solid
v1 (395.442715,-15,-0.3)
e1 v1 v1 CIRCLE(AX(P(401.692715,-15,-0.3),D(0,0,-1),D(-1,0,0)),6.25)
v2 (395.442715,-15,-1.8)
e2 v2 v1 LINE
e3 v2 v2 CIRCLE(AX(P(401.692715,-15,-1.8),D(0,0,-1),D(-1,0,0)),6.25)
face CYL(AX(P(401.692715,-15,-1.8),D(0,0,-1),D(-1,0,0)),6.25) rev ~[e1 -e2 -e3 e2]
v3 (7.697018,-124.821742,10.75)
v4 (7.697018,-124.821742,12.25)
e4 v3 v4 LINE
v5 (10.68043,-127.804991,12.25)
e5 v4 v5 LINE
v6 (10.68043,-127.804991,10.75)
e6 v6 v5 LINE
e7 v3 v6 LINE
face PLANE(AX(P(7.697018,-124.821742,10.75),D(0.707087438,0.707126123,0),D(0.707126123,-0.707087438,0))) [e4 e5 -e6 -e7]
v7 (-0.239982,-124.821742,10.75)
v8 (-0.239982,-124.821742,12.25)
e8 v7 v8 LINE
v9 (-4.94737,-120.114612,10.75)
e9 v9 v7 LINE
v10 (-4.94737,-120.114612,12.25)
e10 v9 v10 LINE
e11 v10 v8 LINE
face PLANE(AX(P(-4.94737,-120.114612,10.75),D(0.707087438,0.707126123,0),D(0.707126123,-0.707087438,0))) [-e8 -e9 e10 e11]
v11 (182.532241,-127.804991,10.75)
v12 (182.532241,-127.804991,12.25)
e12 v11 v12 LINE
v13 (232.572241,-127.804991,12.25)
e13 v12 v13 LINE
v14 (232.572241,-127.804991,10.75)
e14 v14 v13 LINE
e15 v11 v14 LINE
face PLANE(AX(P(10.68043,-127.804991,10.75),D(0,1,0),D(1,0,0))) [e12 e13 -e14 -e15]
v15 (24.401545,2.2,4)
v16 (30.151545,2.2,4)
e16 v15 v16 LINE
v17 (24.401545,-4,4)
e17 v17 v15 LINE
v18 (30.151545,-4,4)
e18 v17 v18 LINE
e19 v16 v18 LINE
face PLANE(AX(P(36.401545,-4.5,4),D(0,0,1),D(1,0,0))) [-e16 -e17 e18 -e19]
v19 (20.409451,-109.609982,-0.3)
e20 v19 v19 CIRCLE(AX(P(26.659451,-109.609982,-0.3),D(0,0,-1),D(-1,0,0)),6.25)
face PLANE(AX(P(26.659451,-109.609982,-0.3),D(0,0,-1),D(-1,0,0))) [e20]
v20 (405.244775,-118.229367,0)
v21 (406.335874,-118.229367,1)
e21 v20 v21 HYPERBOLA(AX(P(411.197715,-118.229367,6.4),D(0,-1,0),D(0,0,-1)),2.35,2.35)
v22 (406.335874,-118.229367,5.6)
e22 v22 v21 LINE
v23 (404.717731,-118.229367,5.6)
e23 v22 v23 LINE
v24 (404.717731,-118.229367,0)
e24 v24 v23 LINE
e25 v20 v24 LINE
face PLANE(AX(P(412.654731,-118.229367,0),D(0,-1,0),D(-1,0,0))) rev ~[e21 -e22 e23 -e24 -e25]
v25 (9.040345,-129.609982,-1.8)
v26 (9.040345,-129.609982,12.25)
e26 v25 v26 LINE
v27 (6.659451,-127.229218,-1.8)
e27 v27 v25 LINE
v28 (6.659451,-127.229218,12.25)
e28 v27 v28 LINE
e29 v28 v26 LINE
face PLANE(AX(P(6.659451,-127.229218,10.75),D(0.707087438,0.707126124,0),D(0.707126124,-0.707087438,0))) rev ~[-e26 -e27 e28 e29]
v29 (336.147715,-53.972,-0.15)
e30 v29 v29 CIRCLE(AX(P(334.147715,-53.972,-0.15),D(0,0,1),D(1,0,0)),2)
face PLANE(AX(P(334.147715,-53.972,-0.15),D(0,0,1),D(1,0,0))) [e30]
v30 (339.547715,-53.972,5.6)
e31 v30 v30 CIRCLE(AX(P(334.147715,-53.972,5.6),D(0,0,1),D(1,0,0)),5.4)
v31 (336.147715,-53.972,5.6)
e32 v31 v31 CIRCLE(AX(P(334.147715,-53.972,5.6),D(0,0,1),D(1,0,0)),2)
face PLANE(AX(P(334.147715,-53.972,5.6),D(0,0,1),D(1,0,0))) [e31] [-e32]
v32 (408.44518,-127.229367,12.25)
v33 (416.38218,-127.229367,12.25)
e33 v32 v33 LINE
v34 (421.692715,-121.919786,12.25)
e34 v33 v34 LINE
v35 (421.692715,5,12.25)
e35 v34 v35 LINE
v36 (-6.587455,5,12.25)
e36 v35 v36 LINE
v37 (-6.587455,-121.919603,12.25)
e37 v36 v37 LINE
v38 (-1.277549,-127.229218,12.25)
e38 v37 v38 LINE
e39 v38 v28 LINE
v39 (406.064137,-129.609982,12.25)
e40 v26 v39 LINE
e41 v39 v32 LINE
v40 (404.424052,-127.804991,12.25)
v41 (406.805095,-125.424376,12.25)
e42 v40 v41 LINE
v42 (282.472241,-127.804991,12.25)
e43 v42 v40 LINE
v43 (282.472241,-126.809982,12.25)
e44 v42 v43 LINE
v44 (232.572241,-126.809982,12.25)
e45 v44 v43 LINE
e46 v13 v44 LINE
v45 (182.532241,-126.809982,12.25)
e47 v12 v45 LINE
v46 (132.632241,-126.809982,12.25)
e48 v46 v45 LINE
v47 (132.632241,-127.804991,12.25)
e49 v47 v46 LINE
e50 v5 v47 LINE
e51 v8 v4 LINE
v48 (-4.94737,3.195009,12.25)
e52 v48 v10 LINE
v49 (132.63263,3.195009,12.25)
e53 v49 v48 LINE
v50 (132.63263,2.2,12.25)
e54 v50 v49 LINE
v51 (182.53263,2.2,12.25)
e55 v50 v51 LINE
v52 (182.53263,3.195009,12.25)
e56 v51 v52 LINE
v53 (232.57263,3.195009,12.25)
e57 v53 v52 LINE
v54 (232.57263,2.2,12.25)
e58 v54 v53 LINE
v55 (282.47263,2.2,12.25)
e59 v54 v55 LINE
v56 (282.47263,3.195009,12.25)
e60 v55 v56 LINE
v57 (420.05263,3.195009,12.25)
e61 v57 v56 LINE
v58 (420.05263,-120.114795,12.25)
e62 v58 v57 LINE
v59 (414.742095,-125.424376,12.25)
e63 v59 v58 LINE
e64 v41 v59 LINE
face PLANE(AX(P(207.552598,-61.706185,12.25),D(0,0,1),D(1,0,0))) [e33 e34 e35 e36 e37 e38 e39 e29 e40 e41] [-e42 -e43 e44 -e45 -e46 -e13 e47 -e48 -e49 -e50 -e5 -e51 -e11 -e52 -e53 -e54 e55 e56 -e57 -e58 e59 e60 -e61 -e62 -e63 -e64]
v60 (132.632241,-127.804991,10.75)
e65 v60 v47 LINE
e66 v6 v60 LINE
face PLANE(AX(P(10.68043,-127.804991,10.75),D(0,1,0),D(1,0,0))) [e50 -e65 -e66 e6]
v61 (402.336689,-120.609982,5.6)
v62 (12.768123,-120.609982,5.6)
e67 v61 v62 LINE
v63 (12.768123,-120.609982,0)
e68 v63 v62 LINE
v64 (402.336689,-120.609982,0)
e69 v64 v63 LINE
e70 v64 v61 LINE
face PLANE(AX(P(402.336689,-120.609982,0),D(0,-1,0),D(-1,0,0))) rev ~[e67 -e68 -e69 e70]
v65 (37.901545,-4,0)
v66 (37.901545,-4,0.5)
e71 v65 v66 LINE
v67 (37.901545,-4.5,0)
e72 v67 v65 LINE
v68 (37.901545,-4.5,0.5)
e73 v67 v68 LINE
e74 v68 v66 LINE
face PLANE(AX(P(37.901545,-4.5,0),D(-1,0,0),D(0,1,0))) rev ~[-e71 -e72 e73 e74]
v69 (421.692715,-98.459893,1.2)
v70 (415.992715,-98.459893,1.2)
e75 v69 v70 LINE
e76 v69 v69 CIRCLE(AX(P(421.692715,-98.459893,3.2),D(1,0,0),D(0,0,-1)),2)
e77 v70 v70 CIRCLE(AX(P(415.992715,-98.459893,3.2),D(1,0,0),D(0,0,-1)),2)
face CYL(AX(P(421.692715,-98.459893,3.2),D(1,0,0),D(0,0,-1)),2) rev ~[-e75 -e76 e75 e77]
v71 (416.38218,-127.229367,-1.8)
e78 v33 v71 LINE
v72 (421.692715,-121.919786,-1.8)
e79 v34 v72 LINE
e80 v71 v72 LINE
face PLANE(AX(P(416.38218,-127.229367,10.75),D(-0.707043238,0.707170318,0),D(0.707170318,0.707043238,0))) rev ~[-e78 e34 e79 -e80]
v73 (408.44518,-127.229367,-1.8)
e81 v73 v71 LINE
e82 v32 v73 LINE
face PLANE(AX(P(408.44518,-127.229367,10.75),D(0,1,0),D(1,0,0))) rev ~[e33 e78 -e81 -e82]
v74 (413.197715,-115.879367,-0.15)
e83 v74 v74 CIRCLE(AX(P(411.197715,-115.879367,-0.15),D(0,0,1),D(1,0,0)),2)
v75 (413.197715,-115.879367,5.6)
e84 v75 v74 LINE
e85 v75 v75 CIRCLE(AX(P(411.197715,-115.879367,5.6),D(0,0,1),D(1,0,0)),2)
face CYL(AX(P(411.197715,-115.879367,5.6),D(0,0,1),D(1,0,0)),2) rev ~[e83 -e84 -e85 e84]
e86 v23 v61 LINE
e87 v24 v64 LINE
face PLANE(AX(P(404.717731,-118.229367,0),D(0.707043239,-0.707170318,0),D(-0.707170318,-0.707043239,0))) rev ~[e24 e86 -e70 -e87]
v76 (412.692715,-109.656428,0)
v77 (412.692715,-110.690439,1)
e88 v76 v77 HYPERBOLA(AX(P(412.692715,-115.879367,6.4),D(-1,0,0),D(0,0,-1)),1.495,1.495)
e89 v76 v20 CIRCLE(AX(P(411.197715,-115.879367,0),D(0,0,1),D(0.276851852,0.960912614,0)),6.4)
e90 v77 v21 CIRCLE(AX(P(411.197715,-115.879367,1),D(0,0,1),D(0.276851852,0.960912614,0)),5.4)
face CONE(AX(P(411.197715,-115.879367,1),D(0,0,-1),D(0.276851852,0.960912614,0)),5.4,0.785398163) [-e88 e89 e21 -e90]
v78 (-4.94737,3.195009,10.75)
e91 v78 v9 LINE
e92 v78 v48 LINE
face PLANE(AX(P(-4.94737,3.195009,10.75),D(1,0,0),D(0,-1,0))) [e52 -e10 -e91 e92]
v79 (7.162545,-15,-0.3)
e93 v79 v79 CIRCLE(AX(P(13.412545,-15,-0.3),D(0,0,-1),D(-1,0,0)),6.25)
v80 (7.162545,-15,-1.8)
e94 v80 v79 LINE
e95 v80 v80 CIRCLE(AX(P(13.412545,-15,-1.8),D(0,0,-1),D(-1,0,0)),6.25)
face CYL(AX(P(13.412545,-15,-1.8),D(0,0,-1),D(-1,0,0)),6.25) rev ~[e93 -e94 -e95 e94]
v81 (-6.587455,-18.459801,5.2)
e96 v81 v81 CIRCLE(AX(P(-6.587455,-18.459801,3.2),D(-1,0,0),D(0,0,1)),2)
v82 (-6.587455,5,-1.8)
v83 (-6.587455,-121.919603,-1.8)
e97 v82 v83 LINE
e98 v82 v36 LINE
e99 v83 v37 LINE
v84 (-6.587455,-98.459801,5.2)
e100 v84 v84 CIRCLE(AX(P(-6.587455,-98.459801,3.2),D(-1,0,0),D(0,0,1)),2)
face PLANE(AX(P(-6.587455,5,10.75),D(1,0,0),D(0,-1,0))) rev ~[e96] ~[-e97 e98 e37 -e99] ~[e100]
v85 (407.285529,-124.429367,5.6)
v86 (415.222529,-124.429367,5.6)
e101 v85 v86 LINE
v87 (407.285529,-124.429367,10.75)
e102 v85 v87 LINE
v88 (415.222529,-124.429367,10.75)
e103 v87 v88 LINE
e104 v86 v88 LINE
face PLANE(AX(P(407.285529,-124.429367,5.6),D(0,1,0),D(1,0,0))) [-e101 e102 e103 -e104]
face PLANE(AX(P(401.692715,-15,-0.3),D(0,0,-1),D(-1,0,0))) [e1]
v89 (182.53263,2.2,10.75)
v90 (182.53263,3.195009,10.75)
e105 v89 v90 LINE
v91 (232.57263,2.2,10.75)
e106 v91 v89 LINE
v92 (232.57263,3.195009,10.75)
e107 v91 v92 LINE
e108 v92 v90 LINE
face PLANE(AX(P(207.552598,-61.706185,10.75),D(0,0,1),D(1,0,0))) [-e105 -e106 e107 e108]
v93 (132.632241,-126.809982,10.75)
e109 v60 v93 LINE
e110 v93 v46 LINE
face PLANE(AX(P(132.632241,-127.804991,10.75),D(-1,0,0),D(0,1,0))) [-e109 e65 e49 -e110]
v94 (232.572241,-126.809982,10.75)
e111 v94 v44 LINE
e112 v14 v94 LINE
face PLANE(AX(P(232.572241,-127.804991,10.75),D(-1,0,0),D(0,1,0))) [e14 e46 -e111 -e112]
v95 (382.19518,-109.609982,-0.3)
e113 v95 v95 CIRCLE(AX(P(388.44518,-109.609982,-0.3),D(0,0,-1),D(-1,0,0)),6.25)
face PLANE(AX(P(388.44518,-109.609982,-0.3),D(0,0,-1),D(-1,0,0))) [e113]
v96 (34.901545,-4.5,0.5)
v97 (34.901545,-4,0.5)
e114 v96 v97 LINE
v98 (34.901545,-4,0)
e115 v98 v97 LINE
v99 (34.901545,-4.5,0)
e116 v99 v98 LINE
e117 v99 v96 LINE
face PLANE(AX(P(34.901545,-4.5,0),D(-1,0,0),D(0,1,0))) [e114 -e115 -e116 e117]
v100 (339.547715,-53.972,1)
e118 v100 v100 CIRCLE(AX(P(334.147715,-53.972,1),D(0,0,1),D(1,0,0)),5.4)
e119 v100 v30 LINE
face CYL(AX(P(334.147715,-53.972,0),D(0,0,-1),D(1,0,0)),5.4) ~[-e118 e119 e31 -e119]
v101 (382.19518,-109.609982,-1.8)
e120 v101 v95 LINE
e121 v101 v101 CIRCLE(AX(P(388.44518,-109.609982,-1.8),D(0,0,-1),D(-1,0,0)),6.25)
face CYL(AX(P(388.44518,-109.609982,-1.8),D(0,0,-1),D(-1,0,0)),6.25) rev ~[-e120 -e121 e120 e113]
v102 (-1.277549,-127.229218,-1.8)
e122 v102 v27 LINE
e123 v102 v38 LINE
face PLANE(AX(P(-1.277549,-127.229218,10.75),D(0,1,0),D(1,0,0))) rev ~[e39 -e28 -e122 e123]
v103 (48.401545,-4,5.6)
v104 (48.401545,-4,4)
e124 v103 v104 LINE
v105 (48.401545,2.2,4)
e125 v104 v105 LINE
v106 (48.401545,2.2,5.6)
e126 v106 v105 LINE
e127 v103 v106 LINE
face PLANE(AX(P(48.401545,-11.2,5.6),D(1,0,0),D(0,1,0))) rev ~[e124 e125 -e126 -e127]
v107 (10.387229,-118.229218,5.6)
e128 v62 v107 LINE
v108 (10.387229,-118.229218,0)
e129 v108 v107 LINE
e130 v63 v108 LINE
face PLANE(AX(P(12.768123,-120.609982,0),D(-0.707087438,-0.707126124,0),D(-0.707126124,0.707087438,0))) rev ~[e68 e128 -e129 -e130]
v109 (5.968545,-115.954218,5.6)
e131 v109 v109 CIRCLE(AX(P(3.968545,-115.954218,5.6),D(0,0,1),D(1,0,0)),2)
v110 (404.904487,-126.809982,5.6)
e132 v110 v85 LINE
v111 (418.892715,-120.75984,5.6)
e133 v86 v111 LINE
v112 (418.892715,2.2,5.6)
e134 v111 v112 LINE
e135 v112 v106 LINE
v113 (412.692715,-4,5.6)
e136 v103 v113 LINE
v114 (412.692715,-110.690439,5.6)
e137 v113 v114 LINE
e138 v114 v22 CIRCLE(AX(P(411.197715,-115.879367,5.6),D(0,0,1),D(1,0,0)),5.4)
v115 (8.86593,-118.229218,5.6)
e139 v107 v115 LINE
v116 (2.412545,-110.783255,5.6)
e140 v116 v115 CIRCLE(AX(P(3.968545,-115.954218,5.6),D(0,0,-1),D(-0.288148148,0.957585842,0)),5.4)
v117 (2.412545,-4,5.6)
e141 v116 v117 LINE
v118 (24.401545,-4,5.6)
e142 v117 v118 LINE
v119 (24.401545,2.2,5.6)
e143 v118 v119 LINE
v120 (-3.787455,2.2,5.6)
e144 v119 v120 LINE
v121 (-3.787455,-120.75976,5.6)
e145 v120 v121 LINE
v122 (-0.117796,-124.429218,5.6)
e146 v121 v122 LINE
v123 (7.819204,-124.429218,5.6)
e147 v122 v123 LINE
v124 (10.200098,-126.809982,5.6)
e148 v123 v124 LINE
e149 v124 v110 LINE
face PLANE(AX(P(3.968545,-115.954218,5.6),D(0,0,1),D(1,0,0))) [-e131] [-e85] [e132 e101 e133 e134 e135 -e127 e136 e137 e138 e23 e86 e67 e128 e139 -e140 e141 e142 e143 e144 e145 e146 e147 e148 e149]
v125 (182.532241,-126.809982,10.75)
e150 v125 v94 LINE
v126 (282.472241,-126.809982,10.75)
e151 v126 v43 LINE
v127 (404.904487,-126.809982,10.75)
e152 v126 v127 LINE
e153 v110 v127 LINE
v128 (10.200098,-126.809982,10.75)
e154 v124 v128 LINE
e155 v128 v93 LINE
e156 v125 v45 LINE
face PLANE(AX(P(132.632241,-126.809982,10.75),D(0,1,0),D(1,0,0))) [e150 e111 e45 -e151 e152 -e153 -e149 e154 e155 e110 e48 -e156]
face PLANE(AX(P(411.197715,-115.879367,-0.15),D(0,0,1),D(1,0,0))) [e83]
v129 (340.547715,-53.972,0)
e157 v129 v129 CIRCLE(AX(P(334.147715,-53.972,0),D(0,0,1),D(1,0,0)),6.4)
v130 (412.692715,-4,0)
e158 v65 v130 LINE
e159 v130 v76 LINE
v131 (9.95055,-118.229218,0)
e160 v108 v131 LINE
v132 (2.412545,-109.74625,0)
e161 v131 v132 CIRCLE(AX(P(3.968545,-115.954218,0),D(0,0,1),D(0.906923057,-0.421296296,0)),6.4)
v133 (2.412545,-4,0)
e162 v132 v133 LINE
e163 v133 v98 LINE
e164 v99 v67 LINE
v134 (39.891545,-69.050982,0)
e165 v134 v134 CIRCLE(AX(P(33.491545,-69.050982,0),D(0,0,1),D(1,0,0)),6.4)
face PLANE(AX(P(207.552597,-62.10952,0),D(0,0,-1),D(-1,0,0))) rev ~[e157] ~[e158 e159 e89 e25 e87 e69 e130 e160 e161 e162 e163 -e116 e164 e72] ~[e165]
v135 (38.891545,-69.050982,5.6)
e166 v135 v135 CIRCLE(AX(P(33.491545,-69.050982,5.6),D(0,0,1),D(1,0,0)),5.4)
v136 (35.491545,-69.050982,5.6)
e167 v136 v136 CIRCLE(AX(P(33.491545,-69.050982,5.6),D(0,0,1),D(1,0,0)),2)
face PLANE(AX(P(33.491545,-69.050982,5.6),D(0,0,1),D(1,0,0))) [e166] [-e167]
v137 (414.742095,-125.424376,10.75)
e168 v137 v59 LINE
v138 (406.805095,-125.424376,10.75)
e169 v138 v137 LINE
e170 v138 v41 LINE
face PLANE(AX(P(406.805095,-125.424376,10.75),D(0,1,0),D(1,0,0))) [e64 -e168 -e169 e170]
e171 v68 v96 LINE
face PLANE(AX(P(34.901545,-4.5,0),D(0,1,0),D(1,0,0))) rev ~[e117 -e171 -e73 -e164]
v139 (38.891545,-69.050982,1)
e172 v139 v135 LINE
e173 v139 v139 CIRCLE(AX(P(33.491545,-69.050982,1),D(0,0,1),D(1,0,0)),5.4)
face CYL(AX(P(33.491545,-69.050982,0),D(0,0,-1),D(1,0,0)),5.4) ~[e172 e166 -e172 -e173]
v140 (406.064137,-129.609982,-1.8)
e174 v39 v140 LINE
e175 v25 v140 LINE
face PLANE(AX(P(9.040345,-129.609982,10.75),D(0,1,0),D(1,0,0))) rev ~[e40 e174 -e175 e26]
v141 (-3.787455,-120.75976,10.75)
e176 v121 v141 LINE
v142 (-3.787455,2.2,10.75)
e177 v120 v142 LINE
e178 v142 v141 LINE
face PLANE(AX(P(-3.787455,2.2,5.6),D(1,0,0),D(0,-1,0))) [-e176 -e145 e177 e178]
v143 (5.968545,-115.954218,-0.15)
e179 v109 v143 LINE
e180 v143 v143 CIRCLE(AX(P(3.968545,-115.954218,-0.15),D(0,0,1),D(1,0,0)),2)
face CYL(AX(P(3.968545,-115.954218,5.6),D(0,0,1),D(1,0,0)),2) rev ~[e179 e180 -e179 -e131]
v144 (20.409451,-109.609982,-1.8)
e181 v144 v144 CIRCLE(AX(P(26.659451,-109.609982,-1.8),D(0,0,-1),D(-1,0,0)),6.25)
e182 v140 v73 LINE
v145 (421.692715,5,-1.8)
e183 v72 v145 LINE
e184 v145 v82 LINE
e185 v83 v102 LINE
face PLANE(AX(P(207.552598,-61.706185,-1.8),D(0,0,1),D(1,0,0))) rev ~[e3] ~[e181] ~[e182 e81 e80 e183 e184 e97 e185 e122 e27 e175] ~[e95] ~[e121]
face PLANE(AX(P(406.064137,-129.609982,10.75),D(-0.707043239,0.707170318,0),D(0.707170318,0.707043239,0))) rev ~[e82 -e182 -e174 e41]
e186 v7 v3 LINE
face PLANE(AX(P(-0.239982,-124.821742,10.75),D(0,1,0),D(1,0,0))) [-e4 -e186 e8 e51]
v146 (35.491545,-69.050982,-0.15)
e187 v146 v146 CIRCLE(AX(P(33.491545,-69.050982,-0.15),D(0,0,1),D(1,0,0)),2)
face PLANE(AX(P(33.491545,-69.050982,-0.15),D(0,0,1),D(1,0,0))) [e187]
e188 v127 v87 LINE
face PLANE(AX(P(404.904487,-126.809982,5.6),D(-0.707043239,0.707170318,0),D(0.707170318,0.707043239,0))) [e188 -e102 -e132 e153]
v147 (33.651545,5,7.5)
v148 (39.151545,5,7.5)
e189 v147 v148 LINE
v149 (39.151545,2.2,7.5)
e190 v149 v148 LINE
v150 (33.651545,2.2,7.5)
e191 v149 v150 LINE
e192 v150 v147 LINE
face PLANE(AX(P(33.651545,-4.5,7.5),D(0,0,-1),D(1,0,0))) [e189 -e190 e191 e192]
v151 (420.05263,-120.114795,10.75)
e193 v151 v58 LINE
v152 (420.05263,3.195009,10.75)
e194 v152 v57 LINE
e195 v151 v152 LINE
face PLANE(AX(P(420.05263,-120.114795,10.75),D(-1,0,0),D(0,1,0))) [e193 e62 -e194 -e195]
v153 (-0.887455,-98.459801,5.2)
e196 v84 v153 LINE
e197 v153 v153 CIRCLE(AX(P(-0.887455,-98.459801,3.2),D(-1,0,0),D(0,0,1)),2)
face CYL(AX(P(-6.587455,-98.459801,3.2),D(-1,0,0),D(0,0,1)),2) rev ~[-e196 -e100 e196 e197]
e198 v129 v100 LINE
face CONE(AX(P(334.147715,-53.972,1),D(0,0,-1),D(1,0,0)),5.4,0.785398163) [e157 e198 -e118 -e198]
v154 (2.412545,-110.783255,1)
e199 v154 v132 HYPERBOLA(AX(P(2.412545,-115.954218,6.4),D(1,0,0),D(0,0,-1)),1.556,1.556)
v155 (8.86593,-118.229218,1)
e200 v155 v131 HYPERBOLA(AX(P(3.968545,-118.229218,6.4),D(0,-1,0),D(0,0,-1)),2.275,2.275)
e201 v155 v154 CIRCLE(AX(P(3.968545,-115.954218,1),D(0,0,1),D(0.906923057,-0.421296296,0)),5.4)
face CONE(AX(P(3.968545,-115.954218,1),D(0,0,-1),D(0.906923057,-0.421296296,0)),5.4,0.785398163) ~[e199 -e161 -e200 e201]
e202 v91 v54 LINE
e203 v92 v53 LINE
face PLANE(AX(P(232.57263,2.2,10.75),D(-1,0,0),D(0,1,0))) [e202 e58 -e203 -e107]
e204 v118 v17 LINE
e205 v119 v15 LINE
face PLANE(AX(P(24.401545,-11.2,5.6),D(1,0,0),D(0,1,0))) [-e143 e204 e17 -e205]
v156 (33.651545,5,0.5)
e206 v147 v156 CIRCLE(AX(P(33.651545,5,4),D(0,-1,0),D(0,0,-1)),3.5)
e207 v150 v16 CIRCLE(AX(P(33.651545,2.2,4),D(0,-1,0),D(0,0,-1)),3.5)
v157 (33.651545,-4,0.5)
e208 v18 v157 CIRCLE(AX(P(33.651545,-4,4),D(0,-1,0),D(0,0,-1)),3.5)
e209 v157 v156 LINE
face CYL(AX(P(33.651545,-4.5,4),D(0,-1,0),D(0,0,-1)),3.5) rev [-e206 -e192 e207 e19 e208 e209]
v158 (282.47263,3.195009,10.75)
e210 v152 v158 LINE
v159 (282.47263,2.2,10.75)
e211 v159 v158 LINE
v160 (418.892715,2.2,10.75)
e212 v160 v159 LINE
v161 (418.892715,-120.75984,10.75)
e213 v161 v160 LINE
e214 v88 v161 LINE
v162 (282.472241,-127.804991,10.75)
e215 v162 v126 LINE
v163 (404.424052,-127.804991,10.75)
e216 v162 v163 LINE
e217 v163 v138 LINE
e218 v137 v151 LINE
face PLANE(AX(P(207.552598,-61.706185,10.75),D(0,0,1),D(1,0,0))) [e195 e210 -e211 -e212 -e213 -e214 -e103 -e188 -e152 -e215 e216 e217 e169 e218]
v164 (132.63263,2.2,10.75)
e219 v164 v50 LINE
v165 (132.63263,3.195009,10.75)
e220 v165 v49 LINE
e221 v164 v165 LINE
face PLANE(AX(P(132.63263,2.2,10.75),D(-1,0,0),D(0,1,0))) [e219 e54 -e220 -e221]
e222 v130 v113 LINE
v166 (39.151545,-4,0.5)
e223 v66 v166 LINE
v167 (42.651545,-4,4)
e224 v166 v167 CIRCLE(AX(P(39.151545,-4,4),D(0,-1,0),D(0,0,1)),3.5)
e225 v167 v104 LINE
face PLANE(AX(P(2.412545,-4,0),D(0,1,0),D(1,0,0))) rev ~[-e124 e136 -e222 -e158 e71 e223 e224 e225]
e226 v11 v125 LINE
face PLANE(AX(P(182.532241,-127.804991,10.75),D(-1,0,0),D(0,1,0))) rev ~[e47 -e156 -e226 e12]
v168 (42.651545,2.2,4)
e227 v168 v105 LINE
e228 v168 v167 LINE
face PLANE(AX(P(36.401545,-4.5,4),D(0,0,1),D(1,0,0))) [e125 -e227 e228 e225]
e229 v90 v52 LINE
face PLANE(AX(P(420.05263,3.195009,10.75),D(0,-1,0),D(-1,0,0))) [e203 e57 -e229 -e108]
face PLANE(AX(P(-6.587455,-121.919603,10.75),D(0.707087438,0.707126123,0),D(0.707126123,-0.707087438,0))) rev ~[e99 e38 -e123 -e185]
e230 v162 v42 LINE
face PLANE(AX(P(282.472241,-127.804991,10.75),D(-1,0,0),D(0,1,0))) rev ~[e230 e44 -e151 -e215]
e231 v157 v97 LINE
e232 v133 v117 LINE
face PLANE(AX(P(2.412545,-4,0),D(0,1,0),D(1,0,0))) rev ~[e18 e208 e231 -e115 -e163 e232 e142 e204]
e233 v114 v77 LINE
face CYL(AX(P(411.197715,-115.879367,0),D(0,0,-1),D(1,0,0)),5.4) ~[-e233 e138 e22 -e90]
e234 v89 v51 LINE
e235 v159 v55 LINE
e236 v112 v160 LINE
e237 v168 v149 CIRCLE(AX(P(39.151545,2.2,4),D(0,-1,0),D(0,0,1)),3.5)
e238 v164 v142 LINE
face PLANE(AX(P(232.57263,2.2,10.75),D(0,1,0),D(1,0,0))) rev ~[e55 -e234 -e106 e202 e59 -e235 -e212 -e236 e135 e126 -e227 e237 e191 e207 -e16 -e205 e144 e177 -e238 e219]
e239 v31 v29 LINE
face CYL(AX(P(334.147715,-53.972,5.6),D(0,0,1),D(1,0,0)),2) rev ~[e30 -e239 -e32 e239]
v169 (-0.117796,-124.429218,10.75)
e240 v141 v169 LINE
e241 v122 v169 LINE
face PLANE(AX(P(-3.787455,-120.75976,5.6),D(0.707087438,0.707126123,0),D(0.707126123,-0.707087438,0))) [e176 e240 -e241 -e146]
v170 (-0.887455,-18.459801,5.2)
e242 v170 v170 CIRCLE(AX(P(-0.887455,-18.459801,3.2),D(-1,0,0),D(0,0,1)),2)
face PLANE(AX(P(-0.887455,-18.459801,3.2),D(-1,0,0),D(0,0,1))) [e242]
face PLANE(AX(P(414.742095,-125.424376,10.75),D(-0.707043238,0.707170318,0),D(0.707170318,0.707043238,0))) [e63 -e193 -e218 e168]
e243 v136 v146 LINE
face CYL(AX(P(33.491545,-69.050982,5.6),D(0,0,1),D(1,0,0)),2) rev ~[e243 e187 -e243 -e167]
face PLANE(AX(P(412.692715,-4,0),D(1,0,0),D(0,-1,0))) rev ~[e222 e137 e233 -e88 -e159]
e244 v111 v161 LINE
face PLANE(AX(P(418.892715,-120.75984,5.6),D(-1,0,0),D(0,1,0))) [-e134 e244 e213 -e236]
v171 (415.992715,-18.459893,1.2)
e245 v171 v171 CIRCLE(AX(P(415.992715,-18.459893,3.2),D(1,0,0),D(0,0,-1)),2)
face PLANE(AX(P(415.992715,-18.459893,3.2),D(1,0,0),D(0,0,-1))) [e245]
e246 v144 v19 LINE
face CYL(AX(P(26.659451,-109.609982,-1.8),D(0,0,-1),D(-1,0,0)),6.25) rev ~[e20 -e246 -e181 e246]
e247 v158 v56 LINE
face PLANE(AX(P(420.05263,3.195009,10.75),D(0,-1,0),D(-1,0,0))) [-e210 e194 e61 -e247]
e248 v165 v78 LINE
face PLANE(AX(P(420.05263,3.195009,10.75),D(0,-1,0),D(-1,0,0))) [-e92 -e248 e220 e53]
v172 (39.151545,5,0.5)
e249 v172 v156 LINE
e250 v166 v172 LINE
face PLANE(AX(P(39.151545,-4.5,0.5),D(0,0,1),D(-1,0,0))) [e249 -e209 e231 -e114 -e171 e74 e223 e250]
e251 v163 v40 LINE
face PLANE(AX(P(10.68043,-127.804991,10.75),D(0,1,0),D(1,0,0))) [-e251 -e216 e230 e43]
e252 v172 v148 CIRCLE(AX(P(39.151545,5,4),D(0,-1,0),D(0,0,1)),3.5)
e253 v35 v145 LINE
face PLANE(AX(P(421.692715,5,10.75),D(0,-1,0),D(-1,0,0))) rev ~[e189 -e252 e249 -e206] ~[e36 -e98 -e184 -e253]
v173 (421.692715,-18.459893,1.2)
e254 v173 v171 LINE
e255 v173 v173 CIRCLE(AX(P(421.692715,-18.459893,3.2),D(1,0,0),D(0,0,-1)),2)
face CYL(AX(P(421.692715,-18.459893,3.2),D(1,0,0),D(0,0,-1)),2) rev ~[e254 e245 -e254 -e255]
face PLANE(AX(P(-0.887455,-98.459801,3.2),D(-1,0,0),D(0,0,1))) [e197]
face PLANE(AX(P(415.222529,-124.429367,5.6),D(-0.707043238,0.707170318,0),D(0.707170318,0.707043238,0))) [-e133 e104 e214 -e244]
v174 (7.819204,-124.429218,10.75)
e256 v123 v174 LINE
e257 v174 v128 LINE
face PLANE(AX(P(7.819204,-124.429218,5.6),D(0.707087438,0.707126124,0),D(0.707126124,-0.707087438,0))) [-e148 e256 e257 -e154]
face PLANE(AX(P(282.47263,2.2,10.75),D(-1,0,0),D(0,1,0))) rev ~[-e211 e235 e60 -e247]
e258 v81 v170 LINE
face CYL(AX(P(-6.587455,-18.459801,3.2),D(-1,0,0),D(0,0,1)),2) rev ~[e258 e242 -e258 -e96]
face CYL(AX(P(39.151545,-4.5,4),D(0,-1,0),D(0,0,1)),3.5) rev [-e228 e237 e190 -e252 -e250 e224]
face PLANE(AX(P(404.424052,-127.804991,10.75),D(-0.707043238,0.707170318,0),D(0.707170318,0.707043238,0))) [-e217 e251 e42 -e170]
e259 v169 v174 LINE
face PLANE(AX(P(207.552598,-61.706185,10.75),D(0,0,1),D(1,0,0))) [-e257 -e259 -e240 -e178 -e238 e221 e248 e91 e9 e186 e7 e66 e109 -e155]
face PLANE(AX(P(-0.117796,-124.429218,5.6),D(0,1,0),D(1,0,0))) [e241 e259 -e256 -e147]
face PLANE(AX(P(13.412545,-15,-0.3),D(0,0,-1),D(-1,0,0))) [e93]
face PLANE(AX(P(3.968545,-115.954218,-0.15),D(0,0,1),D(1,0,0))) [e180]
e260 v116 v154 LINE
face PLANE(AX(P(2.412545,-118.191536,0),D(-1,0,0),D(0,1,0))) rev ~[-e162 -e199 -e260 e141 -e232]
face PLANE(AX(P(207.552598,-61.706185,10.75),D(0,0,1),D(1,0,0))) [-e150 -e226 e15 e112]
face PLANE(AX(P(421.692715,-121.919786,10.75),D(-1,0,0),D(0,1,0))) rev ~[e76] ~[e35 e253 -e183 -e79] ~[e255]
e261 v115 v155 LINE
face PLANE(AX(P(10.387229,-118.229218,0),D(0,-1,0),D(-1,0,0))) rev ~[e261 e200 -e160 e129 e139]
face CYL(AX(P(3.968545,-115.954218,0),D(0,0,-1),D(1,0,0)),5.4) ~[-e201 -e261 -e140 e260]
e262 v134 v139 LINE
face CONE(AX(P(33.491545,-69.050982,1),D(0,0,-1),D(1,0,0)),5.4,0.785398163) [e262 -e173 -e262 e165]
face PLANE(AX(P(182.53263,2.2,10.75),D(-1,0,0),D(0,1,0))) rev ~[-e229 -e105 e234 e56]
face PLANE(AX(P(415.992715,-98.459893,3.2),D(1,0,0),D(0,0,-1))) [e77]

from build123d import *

# Parameters (mm, degrees)
P_IDAT_VYSUNUT_M1_DEPTH  = 5.6
SKO_EPINA1_T             = 1.8
P_IDAT_VYSUNUT_M3_DEPTH  = 5.15
P_IDAT_VYSUNUT_M4_DEPTH  = 7.4
P_IDAT_VYSUNUT_M5_DEPTH  = 1.5
SKICA14_W                = 49.9
SKICA14_H                = 0.995009232
P_IDAT_VYSUNUT_M6_DEPTH  = 1.5
SKICA15_R                = 5.4
SKICA15_W                = 3
SKICA15_H                = 9
P_IDAT_VYSUNUT_M7_DEPTH  = 5.6
SKICA16_R                = 2
ODEBRAT_VYSUNUT_M1_DEPTH = 5.75
ZKOSEN_1_SIZE            = 1
SKICA17_W                = 24
SKICA17_H                = 13.4
ODEBRAT_VYSUNUT_M2_DEPTH = 1.6
ODEBRAT_VYSUNUT_M3_REACH = 442.031
SKICA23_R                = 2
ODEBRAT_VYSUNUT_M4_DEPTH = 5.7
SKICA24_R                = 2
ODEBRAT_VYSUNUT_M5_DEPTH = 5.7
SKICA25_R                = 6.25
ODEBRAT_VYSUNUT_M6_DEPTH = 1.5


with BuildPart() as part:
    # Skica3 → Přidat vysunutím1 (new body)
    with BuildSketch(Plane.XY):
        Polygon((2.412545276, -4), (412.692715215, -4), (412.692715215, -118.191389918), (412.654731358, -118.229366948), (404.717731358, -118.229366948), (402.336688893, -120.609981536), (12.768122748, -120.609981536), (10.387229089, -118.22921813), (2.450229089, -118.22921813), (2.412545276, -118.191536378), align=None)
    extrude(amount=P_IDAT_VYSUNUT_M1_DEPTH)

    # Skořepina1
    sko_epina1_openings = [part.faces().sort_by_distance(p)[0] for p in [
        (207.552632266, -62.25279763, 5.6),
    ]]
    offset(amount=SKO_EPINA1_T, openings=sko_epina1_openings, kind=Kind.INTERSECTION)



with BuildPart() as body_2:
    # Skica7 → Přidat vysunutím3 (new body)
    with BuildSketch(Plane.XY.offset(5.6)):
        Polygon((-6.587454724, 5), (-6.587454724, -121.919602656), (-1.277548758, -127.22921813), (6.659451242, -127.22921813), (9.040344901, -129.609981536), (406.06413722, -129.609981536), (408.445179685, -127.229366948), (416.382179685, -127.229366948), (421.692715215, -121.919785731), (421.692715215, 5), align=None)
        Polygon((-3.787454724, 2.2), (-3.787454724, -120.759759814), (-0.11779565, -124.42921813), (7.81920435, -124.42921813), (10.200098009, -126.809981536), (404.904486629, -126.809981536), (407.285529094, -124.429366948), (415.222529094, -124.429366948), (418.892715215, -120.759840367), (418.892715215, 2.2), align=None, mode=Mode.SUBTRACT)
    extrude(amount=P_IDAT_VYSUNUT_M3_DEPTH)


with BuildPart() as part_1:
    add(part.part)

    add(body_2.part)  # Přidat vysunutím4 merges body 2
    # Skica8 → Přidat vysunutím4 (add)
    with BuildSketch(Plane(origin=(0, 0, 5.6), x_dir=(-1, 0, 0), z_dir=(0, 0, -1))):
        Polygon((-421.692715215, 5), (6.587454724, 5), (6.587454724, -121.919602656), (1.277548758, -127.22921813), (-6.659451242, -127.22921813), (-9.040344901, -129.609981536), (-406.06413722, -129.609981536), (-408.445179685, -127.229366948), (-416.382179685, -127.229366948), (-421.692715215, -121.919785731), align=None)
        Polygon((-0.612545276, -2.2), (-0.612545276, -118.937149634), (-1.70467352, -120.02921813), (-9.64167352, -120.02921813), (-12.022567179, -122.409981536), (-403.082178558, -122.409981536), (-405.463221024, -120.029366948), (-413.400221024, -120.029366948), (-414.492715215, -118.93706908), (-414.492715215, -2.2), align=None, mode=Mode.SUBTRACT)
    extrude(amount=P_IDAT_VYSUNUT_M4_DEPTH)

    # Skica11 → Přidat vysunutím5 (add)
    with BuildSketch(Plane.XY.offset(10.75)):
        Polygon((421.692715215, 5), (-6.587454724, 5), (-6.587454724, -121.919602656), (-1.277548758, -127.22921813), (6.659451242, -127.22921813), (9.040344901, -129.609981536), (406.06413722, -129.609981536), (408.445179685, -127.229366948), (416.382179685, -127.229366948), (421.692715215, -121.919785731), align=None)
        Polygon((420.052630246, 3.195009232), (-4.947369754, 3.195009232), (-4.947369754, -120.114611888), (-0.239981646, -124.821742467), (7.697018354, -124.821742467), (10.68042987, -127.804990768), (404.42405225, -127.804990768), (406.805094715, -125.424376181), (414.742094715, -125.424376181), (420.052630246, -120.114794964), align=None, mode=Mode.SUBTRACT)
    extrude(amount=P_IDAT_VYSUNUT_M5_DEPTH)

    # Skica14 → Přidat vysunutím6 (add)
    with BuildSketch(Plane.XY.offset(10.75)):
        with Locations((157.582630246, 2.697504616)):
            Rectangle(SKICA14_W, SKICA14_H)
        with Locations((257.522630246, 2.697504616)):
            Rectangle(SKICA14_W, SKICA14_H)
        with Locations((257.52224106, -127.307486152)):
            Rectangle(SKICA14_W, SKICA14_H)
        with Locations((157.58224106, -127.307486152)):
            Rectangle(SKICA14_W, SKICA14_H)
    extrude(amount=P_IDAT_VYSUNUT_M6_DEPTH)

    # Skica15 → Přidat vysunutím7 (add)
    with BuildSketch(Plane.XY):
        with Locations((3.968545276, -115.95421813)):
            Circle(SKICA15_R)
        with Locations((33.491545276, -69.050981536)):
            Circle(SKICA15_R)
        with Locations((411.197715215, -115.879366948)):
            Circle(SKICA15_R)
        with Locations((334.147715215, -53.972)):
            Circle(SKICA15_R)
        with Locations((36.401545276, 0)):
            Rectangle(SKICA15_W, SKICA15_H)
    extrude(amount=P_IDAT_VYSUNUT_M7_DEPTH)

    # Skica16 → Odebrat vysunutím1 (cut)
    with BuildSketch(Plane.XY.offset(5.6)):
        with Locations((3.968545276, -115.95421813)):
            Circle(SKICA16_R)
        with Locations((33.491545276, -69.050981536)):
            Circle(SKICA16_R)
        with Locations((334.147715215, -53.972)):
            Circle(SKICA16_R)
        with Locations((411.197715215, -115.879366948)):
            Circle(SKICA16_R)
    extrude(amount=-ODEBRAT_VYSUNUT_M1_DEPTH, mode=Mode.SUBTRACT)

    # Zkosení1
    zkosen_1_edges = [part_1.edges().sort_by_distance(p)[0] for p in [
        (8.049207709, -112.417525591, 0),
        (28.091545276, -69.050981536, 0),
        (407.069426922, -112.398384936, 0),
        (328.747715215, -53.972, 0),
    ]]
    chamfer(zkosen_1_edges, length=ZKOSEN_1_SIZE)

    # Skica17 → Odebrat vysunutím2 (cut)
    with BuildSketch(Plane.XY.offset(5.6)):
        with Locations((36.401545276, -4.5)):
            Rectangle(SKICA17_W, SKICA17_H)
    extrude(amount=-ODEBRAT_VYSUNUT_M2_DEPTH, mode=Mode.SUBTRACT)

    # Odebrat vysunutím3: up to this face of the body (flat: up to its plane)
    odebrat_vysunut_m3_end = Plane(part_1.part.faces().sort_by_distance((207.552630246, 5, 5.225))[0])
    # Skica18 → Odebrat vysunutím3 (cut, up to the picked face)
    with BuildSketch(Plane.XZ.offset(4.5), mode=Mode.PRIVATE) as odebrat_vysunut_m3_sk1:
        with BuildLine():
            Line((33.651545276, 7.5), (39.151545276, 7.5))
            ThreePointArc((39.151545276, 7.5), (42.651545276, 4), (39.151545276, 0.5))
            Line((39.151545276, 0.5), (33.651545276, 0.5))
            ThreePointArc((33.651545276, 0.5), (30.151545276, 4), (33.651545276, 7.5))
        make_face()
    odebrat_vysunut_m3_tool1 = split(extrude(odebrat_vysunut_m3_sk1.sketch, amount=-ODEBRAT_VYSUNUT_M3_REACH, mode=Mode.PRIVATE), bisect_by=odebrat_vysunut_m3_end, keep=Keep.BOTH, mode=Mode.PRIVATE)
    add(odebrat_vysunut_m3_tool1.solids().sort_by(Axis((36.401545, -4.5, 4), (0, 1, 0)))[0], mode=Mode.SUBTRACT)

    # Skica23 → Odebrat vysunutím4 (cut)
    with BuildSketch(Plane.ZY.offset(6.587454724)):
        with Locations((3.2, -18.459801328)):
            Circle(SKICA23_R)
        with Locations((3.2, -98.459801328)):
            Circle(SKICA23_R)
    extrude(amount=-ODEBRAT_VYSUNUT_M4_DEPTH, mode=Mode.SUBTRACT)

    # Skica24 → Odebrat vysunutím5 (cut)
    with BuildSketch(Plane(origin=(421.692715215, 0, 0), x_dir=(0, 0, -1), z_dir=(1, 0, 0))):
        with Locations((-3.2, -18.459892866)):
            Circle(SKICA24_R)
        with Locations((-3.2, -98.459892866)):
            Circle(SKICA24_R)
    extrude(amount=-ODEBRAT_VYSUNUT_M5_DEPTH, mode=Mode.SUBTRACT)

    # Skica25 → Odebrat vysunutím6 (cut)
    with BuildSketch(Plane(origin=(0, 0, -1.8), x_dir=(-1, 0, 0), z_dir=(0, 0, -1))):
        with Locations((-401.692715215, -15)):
            Circle(SKICA25_R)
        with Locations((-13.412545276, -15)):
            Circle(SKICA25_R)
        with Locations((-388.445179685, -109.609981536)):
            Circle(SKICA25_R)
        with Locations((-26.659451242, -109.609981536)):
            Circle(SKICA25_R)
    extrude(amount=-ODEBRAT_VYSUNUT_M6_DEPTH, mode=Mode.SUBTRACT)


solid = part_1.part
